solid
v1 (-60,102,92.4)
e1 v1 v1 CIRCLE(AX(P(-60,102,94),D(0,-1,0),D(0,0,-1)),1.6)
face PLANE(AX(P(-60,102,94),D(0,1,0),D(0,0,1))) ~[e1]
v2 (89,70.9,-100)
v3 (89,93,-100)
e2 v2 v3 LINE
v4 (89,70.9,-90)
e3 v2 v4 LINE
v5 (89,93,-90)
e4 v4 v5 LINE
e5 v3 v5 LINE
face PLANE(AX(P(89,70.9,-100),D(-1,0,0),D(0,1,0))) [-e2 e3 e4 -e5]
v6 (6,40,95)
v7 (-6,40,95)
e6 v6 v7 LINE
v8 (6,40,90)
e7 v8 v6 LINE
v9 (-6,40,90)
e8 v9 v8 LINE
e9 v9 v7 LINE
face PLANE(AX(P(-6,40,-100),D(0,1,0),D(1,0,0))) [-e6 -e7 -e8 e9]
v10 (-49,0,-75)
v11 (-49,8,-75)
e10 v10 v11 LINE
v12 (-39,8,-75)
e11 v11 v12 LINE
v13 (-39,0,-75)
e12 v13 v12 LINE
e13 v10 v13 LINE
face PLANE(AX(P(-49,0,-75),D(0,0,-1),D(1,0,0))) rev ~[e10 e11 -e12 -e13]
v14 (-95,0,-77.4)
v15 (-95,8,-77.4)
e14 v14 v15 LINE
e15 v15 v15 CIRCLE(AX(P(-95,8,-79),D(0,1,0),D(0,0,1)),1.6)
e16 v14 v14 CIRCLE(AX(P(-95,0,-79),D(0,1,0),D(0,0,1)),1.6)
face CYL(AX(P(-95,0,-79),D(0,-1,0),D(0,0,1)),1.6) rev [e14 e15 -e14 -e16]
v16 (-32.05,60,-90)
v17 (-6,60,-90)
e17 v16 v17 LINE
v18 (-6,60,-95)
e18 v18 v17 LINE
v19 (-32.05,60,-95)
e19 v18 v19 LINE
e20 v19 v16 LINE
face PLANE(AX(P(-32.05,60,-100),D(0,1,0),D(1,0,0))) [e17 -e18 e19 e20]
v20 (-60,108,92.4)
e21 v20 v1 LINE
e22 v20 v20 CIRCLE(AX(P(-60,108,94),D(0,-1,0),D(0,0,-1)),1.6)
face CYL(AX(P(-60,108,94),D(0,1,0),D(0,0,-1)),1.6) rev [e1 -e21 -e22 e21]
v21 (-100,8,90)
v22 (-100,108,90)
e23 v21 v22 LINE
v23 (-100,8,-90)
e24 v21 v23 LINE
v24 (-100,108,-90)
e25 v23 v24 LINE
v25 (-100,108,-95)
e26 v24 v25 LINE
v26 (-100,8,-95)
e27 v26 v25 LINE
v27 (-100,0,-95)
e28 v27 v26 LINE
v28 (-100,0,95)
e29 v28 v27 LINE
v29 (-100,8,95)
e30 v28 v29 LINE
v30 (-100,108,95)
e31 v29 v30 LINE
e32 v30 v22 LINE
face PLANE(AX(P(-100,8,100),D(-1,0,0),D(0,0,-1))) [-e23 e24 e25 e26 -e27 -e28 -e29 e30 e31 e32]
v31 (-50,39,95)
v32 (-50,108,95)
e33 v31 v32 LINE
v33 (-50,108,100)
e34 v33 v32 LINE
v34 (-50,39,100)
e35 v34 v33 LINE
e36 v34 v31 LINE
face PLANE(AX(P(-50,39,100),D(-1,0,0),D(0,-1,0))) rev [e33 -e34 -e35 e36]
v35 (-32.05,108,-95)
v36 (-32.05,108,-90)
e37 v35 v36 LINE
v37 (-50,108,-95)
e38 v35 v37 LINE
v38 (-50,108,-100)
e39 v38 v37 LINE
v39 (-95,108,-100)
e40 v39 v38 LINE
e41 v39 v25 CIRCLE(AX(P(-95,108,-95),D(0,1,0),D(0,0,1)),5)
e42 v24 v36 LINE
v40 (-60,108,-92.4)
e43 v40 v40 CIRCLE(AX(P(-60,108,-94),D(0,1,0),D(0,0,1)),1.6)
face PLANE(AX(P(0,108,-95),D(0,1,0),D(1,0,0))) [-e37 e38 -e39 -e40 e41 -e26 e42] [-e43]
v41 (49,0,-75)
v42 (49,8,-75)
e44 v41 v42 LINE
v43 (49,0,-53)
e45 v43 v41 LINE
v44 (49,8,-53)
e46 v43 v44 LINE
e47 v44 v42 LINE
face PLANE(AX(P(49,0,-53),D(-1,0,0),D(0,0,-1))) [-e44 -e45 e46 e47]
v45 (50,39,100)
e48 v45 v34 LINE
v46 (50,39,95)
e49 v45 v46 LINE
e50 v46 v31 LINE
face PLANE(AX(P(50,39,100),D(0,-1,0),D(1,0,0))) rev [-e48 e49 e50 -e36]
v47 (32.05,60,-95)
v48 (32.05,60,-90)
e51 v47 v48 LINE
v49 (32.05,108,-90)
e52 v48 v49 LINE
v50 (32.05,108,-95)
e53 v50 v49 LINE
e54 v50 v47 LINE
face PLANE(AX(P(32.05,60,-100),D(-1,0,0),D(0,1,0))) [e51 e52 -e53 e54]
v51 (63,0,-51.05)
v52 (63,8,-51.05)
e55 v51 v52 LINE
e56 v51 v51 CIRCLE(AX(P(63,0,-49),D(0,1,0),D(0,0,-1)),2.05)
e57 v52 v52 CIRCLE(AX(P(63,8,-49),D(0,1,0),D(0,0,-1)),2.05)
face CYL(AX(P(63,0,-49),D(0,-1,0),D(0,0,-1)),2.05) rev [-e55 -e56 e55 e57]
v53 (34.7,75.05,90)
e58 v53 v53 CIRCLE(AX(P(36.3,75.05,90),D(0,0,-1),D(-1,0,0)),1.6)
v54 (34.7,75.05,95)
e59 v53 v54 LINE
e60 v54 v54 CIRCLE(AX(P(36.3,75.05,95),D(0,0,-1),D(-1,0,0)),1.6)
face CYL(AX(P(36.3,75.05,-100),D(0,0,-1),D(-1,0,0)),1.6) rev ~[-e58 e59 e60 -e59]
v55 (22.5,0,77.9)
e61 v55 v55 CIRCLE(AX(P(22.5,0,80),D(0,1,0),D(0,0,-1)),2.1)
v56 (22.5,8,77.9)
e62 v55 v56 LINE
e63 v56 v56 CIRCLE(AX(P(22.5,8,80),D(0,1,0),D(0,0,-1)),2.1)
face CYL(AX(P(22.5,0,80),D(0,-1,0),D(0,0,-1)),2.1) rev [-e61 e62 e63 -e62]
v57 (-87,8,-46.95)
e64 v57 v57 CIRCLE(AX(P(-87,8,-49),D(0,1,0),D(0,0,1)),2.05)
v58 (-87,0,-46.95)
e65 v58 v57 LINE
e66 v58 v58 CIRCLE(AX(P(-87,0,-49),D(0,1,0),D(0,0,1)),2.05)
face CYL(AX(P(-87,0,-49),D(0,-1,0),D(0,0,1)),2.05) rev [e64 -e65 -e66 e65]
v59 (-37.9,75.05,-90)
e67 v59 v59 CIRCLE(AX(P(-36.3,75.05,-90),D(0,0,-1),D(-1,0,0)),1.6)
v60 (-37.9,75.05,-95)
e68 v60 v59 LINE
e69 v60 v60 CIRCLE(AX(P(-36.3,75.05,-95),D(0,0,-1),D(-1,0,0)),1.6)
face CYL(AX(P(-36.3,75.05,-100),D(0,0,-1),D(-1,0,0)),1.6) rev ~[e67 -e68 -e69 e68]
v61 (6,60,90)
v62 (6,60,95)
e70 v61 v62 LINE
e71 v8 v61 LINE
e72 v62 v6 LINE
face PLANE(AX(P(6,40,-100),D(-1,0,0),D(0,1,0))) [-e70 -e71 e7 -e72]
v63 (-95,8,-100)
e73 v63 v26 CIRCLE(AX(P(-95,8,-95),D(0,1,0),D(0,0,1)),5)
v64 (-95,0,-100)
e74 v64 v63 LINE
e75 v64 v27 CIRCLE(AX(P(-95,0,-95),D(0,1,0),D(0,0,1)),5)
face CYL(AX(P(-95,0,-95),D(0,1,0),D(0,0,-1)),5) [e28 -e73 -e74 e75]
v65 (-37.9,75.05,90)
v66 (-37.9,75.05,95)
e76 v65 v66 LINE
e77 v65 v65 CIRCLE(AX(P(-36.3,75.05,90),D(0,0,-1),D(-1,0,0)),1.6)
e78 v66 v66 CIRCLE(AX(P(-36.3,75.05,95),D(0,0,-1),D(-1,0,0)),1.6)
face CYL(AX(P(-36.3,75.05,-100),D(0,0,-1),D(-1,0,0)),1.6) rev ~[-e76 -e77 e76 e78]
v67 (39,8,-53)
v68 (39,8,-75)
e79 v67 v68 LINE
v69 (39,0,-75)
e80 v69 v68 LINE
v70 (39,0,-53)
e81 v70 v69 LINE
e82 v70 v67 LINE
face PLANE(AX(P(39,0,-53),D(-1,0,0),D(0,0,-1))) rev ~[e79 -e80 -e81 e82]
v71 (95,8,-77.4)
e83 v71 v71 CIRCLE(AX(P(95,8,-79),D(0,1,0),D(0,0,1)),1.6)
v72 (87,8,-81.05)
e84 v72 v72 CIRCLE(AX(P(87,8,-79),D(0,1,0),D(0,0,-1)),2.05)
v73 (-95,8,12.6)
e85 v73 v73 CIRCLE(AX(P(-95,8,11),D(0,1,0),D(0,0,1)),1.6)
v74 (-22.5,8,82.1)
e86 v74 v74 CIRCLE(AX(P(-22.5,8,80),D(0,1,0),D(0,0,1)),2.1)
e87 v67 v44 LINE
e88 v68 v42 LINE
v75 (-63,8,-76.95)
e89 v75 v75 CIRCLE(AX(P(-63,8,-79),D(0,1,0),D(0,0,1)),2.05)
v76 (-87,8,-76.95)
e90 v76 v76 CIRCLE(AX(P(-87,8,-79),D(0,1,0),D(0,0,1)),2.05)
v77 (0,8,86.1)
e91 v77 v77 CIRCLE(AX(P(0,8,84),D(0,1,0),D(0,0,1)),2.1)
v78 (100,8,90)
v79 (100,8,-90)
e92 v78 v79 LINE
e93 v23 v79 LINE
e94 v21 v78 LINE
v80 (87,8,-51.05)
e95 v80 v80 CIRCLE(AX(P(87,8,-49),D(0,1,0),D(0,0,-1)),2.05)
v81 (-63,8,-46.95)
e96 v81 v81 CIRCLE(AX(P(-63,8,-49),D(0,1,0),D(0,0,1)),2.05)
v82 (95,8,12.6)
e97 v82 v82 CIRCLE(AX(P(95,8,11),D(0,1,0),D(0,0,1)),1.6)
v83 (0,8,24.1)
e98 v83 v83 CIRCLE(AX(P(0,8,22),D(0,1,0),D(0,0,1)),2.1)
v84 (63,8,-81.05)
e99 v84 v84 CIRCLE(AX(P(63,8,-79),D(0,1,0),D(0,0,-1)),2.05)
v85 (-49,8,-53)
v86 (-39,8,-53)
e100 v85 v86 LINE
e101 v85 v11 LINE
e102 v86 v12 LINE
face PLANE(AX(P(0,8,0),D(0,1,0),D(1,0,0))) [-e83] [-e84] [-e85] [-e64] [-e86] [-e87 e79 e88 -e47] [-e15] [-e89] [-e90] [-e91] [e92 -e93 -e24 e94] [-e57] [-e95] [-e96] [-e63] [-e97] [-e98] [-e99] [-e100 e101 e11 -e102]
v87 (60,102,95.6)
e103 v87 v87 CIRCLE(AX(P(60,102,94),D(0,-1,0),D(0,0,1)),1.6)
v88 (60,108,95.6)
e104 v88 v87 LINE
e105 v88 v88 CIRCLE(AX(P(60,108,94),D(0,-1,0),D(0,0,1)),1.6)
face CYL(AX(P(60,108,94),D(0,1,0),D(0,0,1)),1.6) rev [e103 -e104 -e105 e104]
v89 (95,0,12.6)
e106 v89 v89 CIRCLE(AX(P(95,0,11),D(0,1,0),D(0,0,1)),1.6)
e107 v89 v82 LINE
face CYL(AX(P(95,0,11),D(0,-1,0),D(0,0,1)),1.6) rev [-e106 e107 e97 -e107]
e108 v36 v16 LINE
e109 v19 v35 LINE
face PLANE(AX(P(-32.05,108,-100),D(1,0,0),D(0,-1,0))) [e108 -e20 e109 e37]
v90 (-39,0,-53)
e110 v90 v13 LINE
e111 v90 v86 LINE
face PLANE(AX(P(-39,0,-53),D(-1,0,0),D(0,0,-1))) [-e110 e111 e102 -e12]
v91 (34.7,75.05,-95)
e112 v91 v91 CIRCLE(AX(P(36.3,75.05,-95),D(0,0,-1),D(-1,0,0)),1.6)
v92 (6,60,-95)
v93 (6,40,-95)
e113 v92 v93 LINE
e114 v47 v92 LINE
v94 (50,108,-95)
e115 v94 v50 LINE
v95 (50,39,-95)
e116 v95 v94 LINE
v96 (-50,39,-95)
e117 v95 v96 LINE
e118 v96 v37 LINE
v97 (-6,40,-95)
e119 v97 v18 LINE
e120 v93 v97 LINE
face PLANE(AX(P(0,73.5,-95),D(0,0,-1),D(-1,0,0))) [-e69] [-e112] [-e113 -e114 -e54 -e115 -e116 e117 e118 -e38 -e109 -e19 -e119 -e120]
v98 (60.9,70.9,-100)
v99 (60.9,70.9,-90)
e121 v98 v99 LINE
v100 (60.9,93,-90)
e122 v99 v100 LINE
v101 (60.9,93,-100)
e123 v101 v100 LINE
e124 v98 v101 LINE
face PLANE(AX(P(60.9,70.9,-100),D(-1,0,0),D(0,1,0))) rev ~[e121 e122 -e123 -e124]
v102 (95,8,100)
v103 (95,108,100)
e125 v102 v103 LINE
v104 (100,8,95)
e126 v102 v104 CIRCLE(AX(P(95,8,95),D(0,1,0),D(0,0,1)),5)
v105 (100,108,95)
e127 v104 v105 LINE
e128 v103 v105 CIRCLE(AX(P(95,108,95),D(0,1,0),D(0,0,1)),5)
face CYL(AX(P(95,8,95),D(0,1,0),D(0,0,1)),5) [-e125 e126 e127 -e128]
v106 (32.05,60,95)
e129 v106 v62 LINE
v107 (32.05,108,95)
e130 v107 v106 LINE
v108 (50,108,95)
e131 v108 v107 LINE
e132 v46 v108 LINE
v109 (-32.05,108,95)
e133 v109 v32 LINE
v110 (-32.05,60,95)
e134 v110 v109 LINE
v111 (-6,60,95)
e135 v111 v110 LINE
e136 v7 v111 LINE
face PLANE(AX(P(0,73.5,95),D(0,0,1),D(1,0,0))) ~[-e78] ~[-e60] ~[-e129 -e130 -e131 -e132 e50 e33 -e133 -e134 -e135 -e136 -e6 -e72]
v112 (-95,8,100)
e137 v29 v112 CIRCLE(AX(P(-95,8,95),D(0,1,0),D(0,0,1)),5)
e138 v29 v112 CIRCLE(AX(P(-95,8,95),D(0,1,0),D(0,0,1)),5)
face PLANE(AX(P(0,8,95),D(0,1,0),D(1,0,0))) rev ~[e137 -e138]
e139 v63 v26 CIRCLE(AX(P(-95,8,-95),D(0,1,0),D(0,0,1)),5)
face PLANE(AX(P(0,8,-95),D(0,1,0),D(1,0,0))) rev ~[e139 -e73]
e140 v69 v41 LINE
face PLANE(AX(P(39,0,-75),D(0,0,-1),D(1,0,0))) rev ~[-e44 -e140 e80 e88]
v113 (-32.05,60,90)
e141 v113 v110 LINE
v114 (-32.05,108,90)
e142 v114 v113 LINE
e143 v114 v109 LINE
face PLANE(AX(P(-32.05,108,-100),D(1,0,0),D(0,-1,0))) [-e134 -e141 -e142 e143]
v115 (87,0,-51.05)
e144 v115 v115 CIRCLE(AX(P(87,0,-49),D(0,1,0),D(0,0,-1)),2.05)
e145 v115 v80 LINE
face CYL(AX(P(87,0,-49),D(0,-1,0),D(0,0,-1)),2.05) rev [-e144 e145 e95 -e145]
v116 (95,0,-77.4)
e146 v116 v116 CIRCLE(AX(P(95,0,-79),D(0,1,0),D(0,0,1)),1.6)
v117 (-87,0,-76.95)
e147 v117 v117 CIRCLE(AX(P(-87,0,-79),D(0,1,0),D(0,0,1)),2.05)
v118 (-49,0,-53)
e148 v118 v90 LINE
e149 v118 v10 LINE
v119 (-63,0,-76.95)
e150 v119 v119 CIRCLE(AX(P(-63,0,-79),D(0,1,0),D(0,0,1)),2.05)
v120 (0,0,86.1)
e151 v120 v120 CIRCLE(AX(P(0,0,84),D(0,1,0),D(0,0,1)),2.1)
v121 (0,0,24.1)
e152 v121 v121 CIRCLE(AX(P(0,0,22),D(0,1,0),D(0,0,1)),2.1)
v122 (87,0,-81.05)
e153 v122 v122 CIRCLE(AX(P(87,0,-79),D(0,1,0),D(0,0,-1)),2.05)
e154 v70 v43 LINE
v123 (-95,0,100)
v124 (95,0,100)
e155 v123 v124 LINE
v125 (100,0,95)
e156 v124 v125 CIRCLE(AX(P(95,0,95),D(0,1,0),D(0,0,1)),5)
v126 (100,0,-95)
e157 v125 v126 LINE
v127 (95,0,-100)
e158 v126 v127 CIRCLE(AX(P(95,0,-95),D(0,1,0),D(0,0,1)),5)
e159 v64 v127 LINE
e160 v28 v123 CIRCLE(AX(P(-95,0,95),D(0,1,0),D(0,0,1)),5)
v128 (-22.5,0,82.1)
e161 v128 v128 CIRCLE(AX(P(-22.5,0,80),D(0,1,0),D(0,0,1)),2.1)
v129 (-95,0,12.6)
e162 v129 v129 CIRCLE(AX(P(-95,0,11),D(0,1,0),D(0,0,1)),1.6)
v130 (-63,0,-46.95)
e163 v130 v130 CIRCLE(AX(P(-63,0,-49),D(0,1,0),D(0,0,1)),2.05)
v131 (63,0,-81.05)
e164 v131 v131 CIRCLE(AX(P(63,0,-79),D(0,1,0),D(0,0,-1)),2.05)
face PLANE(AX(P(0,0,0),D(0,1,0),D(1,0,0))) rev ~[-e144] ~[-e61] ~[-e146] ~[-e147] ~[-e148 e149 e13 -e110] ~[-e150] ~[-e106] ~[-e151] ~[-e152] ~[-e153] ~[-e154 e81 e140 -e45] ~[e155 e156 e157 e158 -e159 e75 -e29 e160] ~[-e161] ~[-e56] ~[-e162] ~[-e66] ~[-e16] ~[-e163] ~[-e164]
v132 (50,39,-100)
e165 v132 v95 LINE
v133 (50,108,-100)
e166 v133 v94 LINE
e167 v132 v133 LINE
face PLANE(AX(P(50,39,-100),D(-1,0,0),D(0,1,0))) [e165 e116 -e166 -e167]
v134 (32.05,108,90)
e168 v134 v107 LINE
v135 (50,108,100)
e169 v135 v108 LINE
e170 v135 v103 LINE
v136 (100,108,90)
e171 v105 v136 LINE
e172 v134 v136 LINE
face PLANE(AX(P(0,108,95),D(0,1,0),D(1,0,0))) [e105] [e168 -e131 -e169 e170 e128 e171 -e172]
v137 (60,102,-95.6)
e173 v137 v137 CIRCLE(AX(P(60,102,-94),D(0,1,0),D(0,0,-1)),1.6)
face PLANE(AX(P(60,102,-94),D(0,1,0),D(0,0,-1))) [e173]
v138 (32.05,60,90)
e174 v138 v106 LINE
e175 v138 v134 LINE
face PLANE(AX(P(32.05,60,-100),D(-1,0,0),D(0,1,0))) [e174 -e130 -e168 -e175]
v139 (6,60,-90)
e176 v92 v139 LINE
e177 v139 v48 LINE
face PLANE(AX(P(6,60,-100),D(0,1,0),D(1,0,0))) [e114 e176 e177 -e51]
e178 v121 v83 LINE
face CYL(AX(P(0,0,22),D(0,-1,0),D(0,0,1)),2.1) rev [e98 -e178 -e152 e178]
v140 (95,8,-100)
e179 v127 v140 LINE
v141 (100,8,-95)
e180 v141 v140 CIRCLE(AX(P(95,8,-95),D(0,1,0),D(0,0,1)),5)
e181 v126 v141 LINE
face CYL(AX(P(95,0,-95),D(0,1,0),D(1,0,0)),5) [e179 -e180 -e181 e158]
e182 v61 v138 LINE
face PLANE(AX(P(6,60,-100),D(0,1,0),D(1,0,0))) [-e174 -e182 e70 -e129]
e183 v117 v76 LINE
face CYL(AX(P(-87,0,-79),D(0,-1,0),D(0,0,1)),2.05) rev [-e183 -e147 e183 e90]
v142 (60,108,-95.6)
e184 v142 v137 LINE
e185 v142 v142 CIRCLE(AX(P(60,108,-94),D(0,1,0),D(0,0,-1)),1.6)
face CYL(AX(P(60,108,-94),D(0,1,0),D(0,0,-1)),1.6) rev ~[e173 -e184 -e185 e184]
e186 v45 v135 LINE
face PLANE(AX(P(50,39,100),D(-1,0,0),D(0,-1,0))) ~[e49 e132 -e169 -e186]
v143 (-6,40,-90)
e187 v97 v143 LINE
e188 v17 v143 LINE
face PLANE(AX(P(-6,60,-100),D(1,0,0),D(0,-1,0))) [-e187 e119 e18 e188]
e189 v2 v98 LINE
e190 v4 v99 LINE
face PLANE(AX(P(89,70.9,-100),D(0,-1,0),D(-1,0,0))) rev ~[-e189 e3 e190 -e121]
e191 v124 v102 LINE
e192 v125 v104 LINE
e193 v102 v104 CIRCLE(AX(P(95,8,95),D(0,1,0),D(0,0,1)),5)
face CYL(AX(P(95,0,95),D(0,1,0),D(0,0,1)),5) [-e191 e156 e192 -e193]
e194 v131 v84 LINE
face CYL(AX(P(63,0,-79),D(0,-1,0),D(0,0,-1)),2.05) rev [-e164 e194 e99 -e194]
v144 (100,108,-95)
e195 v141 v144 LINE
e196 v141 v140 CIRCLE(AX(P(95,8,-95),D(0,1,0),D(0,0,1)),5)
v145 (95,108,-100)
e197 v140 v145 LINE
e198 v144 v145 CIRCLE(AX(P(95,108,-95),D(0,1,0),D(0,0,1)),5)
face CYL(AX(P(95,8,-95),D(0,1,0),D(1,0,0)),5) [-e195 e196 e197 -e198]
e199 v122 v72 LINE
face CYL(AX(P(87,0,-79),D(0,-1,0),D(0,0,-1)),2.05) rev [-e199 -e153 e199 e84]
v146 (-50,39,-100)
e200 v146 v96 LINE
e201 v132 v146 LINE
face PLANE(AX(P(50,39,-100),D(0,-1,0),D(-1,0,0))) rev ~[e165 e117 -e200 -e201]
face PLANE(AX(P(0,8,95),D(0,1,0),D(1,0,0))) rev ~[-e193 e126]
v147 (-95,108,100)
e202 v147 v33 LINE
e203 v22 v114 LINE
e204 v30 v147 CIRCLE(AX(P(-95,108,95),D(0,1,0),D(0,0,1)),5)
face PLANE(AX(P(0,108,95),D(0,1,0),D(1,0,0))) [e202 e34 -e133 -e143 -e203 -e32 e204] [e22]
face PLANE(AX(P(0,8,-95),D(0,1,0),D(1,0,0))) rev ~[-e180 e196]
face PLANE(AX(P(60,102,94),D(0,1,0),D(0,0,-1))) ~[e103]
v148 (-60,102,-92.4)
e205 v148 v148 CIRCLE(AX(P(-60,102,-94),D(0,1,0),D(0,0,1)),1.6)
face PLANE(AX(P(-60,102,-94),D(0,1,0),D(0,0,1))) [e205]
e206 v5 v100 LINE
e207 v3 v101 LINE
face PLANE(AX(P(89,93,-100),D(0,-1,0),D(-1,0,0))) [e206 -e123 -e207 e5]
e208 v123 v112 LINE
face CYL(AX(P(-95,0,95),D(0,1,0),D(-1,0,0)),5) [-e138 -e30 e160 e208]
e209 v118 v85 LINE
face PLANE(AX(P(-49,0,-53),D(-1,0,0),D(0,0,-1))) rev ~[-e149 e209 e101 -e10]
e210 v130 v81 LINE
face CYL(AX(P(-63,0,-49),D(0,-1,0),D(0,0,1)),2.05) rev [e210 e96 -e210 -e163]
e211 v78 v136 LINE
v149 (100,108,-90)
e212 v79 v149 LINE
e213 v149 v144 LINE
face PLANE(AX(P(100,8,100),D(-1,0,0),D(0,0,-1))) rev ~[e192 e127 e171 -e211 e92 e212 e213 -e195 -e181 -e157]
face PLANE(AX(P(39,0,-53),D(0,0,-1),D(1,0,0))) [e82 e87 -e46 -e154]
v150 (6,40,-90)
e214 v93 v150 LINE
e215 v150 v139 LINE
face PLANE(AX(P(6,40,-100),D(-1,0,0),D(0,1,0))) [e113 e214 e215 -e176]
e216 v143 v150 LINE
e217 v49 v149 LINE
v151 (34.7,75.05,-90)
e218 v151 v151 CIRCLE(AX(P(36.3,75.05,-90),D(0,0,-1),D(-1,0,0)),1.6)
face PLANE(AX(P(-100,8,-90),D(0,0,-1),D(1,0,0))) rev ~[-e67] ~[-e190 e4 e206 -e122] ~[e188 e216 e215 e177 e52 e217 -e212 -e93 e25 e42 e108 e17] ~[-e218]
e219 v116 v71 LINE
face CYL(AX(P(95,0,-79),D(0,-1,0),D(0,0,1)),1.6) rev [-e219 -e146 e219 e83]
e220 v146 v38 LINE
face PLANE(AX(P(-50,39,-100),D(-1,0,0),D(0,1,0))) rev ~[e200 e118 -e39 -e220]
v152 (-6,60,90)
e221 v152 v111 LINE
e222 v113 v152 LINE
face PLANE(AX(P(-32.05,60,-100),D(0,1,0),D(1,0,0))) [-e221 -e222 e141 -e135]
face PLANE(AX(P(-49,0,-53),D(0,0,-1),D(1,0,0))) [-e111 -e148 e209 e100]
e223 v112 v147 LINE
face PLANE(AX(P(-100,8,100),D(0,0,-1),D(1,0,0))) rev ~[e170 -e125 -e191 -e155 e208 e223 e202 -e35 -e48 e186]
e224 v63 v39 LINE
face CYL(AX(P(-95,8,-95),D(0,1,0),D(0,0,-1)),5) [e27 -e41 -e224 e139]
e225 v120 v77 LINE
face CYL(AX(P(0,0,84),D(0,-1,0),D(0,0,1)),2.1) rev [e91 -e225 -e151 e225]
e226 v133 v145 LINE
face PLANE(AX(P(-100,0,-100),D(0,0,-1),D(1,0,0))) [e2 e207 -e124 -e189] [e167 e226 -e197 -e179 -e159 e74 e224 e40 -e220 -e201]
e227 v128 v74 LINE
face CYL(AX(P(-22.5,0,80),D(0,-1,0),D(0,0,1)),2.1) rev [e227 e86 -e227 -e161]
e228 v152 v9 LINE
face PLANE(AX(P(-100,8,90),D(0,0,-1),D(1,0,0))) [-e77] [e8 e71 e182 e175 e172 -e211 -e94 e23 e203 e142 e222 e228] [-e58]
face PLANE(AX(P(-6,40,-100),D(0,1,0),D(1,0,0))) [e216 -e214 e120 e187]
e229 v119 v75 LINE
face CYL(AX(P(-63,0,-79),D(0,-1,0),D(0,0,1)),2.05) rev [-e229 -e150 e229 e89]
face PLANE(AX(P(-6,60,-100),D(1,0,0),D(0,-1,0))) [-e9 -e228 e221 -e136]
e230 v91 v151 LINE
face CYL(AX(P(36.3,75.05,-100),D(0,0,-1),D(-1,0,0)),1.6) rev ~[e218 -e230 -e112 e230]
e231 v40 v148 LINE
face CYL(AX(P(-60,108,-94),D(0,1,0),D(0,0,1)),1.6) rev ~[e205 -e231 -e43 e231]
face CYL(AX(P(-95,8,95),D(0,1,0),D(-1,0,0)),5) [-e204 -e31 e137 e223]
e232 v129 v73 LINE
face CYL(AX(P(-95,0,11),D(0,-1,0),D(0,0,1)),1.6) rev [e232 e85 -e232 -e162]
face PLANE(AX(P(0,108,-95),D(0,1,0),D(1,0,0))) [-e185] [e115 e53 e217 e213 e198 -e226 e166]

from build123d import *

# Parameters (mm, degrees)
SKETCH_1_W          = 200
SKETCH_1_H          = 200
SKETCH_1_R          = 2.05
SKETCH_1_R_2        = 1.6
SKETCH_1_R_3        = 2.1
SKETCH_1_W_2        = 10
SKETCH_1_H_2        = 22
EXTRUDE_1_DEPTH     = 8
FILLET_1_R          = 5
FILLET_2_R          = 5
FILLET_3_R          = 5
FILLET_4_R          = 5
SKETCH_2_W          = 200
SKETCH_2_H          = 10
EXTRUDE_2_DEPTH     = 100
FILLET_5_R          = 5
FILLET_6_R          = 5
FILLET_7_R          = 5
FILLET_8_R          = 5
SKETCH_3_R          = 1.6
CUT_EXTRUDE_1_DEPTH = 1000
SKETCH_4_W          = 100
SKETCH_4_H          = 69
CUT_EXTRUDE_2_DEPTH = 5
SKETCH_6_R          = 1.6
CUT_EXTRUDE_3_DEPTH = 6
SKETCH_7_W          = 28.1
SKETCH_7_H          = 22.1
CUT_EXTRUDE_4_DEPTH = 100


with BuildPart() as part:
    # 草图1 → 凸台-拉伸1 (new body)
    with BuildSketch(Plane(origin=(0, 0, 0), x_dir=(1, 0, 0), z_dir=(0, 1, 0))):
        Rectangle(SKETCH_1_W, SKETCH_1_H)
        with Locations(Location((-87, 49, 0), (0, 0, 270))):
            Circle(SKETCH_1_R, mode=Mode.SUBTRACT)
        with Locations(Location((-63, 49, 0), (0, 0, 270))):
            Circle(SKETCH_1_R, mode=Mode.SUBTRACT)
        with Locations(Location((-63, 79, 0), (0, 0, 270))):
            Circle(SKETCH_1_R, mode=Mode.SUBTRACT)
        with Locations(Location((-87, 79, 0), (0, 0, 270))):
            Circle(SKETCH_1_R, mode=Mode.SUBTRACT)
        with Locations(Location((87, 49, 0), (0, 0, 90))):
            Circle(SKETCH_1_R, mode=Mode.SUBTRACT)
        with Locations(Location((63, 49, 0), (0, 0, 90))):
            Circle(SKETCH_1_R, mode=Mode.SUBTRACT)
        with Locations(Location((63, 79, 0), (0, 0, 90))):
            Circle(SKETCH_1_R, mode=Mode.SUBTRACT)
        with Locations(Location((87, 79, 0), (0, 0, 90))):
            Circle(SKETCH_1_R, mode=Mode.SUBTRACT)
        with Locations(Location((-95, 79, 0), (0, 0, 270))):
            Circle(SKETCH_1_R_2, mode=Mode.SUBTRACT)
        with Locations(Location((95, 79, 0), (0, 0, 270))):
            Circle(SKETCH_1_R_2, mode=Mode.SUBTRACT)
        with Locations(Location((95, -11, 0), (0, 0, 270))):
            Circle(SKETCH_1_R_2, mode=Mode.SUBTRACT)
        with Locations(Location((-95, -11, 0), (0, 0, 270))):
            Circle(SKETCH_1_R_2, mode=Mode.SUBTRACT)
        with Locations(Location((0, -22, 0), (0, 0, 270))):
            Circle(SKETCH_1_R_3, mode=Mode.SUBTRACT)
        with Locations(Location((0, -84, 0), (0, 0, 270))):
            Circle(SKETCH_1_R_3, mode=Mode.SUBTRACT)
        with Locations(Location((-22.5, -80, 0), (0, 0, 270))):
            Circle(SKETCH_1_R_3, mode=Mode.SUBTRACT)
        with Locations(Location((22.5, -80, 0), (0, 0, 90))):
            Circle(SKETCH_1_R_3, mode=Mode.SUBTRACT)
        with Locations((44, 64)):
            Rectangle(SKETCH_1_W_2, SKETCH_1_H_2, mode=Mode.SUBTRACT)
        with Locations((-44, 64)):
            Rectangle(SKETCH_1_W_2, SKETCH_1_H_2, mode=Mode.SUBTRACT)
    extrude(amount=EXTRUDE_1_DEPTH)

    # 圆角1
    fillet_1_edges = [part.edges().sort_by_distance(p)[0] for p in [
        (-100, 4, 100),
    ]]
    fillet(fillet_1_edges, radius=FILLET_1_R)

    # 圆角2
    fillet_2_edges = [part.edges().sort_by_distance(p)[0] for p in [
        (100, 4, 100),
    ]]
    fillet(fillet_2_edges, radius=FILLET_2_R)

    # 圆角3
    fillet_3_edges = [part.edges().sort_by_distance(p)[0] for p in [
        (100, 4, -100),
    ]]
    fillet(fillet_3_edges, radius=FILLET_3_R)

    # 圆角4
    fillet_4_edges = [part.edges().sort_by_distance(p)[0] for p in [
        (-100, 4, -100),
    ]]
    fillet(fillet_4_edges, radius=FILLET_4_R)

    # 草图2 → 凸台-拉伸2 (add)
    with BuildSketch(Plane(origin=(0, 8, 0), x_dir=(1, 0, 0), z_dir=(0, 1, 0))):
        with Locations((0, -95)):
            Rectangle(SKETCH_2_W, SKETCH_2_H)
        with Locations((0, 95)):
            Rectangle(SKETCH_2_W, SKETCH_2_H)
    extrude(amount=EXTRUDE_2_DEPTH)

    # 圆角5
    fillet_5_edges = [part.edges().sort_by_distance(p)[0] for p in [
        (100, 58, -100),
    ]]
    fillet(fillet_5_edges, radius=FILLET_5_R)

    # 圆角6
    fillet_6_edges = [part.edges().sort_by_distance(p)[0] for p in [
        (-100, 58, -100),
    ]]
    fillet(fillet_6_edges, radius=FILLET_6_R)

    # 圆角7
    fillet_7_edges = [part.edges().sort_by_distance(p)[0] for p in [
        (-100, 58, 100),
    ]]
    fillet(fillet_7_edges, radius=FILLET_7_R)

    # 圆角8
    fillet_8_edges = [part.edges().sort_by_distance(p)[0] for p in [
        (100, 58, 100),
    ]]
    fillet(fillet_8_edges, radius=FILLET_8_R)

    # 草图3 → 切除-拉伸1 (cut)
    with BuildSketch(Plane(origin=(0, 0, -100), x_dir=(-1, 0, 0), z_dir=(0, 0, -1))):
        with Locations((-36.3, 75.05)):
            Circle(SKETCH_3_R)
        with Locations((36.3, 75.05)):
            Circle(SKETCH_3_R)
        Polygon((-32.05, 108), (32.05, 108), (32.05, 60), (6, 60), (6, 40), (-6, 40), (-6, 60), (-32.05, 60), align=None)
    extrude(amount=-CUT_EXTRUDE_1_DEPTH, mode=Mode.SUBTRACT)

    # 草图4 → 切除-拉伸2 (cut)
    with BuildSketch(Plane(origin=(0, 0, -100), x_dir=(-1, 0, 0), z_dir=(0, 0, -1))):
        with Locations((0, 73.5)):
            Rectangle(SKETCH_4_W, SKETCH_4_H)
    cut_extrude_2 = extrude(amount=-CUT_EXTRUDE_2_DEPTH, mode=Mode.SUBTRACT)

    # 镜向1: 切除-拉伸2 across plane
    add(cut_extrude_2.mirror(Plane.XY), mode=Mode.SUBTRACT)

    # 草图6 → 切除-拉伸3 (cut)
    with BuildSketch(Plane(origin=(0, 108, 0), x_dir=(1, 0, 0), z_dir=(0, 1, 0))):
        with Locations(Location((-60, 94, 0), (0, 0, 270))):
            Circle(SKETCH_6_R)
        with Locations(Location((60, 94, 0), (0, 0, 90))):
            Circle(SKETCH_6_R)
    cut_extrude_3 = extrude(amount=-CUT_EXTRUDE_3_DEPTH, mode=Mode.SUBTRACT)

    # 镜向2: 切除-拉伸3 across plane
    add(cut_extrude_3.mirror(Plane.XY), mode=Mode.SUBTRACT)

    # 草图7 → 切除-拉伸4 (cut)
    with BuildSketch(Plane(origin=(0, 0, -100), x_dir=(-1, 0, 0), z_dir=(0, 0, -1))):
        with Locations((-74.95, 81.95)):
            Rectangle(SKETCH_7_W, SKETCH_7_H)
    extrude(amount=-CUT_EXTRUDE_4_DEPTH, mode=Mode.SUBTRACT)


solid = part.part
